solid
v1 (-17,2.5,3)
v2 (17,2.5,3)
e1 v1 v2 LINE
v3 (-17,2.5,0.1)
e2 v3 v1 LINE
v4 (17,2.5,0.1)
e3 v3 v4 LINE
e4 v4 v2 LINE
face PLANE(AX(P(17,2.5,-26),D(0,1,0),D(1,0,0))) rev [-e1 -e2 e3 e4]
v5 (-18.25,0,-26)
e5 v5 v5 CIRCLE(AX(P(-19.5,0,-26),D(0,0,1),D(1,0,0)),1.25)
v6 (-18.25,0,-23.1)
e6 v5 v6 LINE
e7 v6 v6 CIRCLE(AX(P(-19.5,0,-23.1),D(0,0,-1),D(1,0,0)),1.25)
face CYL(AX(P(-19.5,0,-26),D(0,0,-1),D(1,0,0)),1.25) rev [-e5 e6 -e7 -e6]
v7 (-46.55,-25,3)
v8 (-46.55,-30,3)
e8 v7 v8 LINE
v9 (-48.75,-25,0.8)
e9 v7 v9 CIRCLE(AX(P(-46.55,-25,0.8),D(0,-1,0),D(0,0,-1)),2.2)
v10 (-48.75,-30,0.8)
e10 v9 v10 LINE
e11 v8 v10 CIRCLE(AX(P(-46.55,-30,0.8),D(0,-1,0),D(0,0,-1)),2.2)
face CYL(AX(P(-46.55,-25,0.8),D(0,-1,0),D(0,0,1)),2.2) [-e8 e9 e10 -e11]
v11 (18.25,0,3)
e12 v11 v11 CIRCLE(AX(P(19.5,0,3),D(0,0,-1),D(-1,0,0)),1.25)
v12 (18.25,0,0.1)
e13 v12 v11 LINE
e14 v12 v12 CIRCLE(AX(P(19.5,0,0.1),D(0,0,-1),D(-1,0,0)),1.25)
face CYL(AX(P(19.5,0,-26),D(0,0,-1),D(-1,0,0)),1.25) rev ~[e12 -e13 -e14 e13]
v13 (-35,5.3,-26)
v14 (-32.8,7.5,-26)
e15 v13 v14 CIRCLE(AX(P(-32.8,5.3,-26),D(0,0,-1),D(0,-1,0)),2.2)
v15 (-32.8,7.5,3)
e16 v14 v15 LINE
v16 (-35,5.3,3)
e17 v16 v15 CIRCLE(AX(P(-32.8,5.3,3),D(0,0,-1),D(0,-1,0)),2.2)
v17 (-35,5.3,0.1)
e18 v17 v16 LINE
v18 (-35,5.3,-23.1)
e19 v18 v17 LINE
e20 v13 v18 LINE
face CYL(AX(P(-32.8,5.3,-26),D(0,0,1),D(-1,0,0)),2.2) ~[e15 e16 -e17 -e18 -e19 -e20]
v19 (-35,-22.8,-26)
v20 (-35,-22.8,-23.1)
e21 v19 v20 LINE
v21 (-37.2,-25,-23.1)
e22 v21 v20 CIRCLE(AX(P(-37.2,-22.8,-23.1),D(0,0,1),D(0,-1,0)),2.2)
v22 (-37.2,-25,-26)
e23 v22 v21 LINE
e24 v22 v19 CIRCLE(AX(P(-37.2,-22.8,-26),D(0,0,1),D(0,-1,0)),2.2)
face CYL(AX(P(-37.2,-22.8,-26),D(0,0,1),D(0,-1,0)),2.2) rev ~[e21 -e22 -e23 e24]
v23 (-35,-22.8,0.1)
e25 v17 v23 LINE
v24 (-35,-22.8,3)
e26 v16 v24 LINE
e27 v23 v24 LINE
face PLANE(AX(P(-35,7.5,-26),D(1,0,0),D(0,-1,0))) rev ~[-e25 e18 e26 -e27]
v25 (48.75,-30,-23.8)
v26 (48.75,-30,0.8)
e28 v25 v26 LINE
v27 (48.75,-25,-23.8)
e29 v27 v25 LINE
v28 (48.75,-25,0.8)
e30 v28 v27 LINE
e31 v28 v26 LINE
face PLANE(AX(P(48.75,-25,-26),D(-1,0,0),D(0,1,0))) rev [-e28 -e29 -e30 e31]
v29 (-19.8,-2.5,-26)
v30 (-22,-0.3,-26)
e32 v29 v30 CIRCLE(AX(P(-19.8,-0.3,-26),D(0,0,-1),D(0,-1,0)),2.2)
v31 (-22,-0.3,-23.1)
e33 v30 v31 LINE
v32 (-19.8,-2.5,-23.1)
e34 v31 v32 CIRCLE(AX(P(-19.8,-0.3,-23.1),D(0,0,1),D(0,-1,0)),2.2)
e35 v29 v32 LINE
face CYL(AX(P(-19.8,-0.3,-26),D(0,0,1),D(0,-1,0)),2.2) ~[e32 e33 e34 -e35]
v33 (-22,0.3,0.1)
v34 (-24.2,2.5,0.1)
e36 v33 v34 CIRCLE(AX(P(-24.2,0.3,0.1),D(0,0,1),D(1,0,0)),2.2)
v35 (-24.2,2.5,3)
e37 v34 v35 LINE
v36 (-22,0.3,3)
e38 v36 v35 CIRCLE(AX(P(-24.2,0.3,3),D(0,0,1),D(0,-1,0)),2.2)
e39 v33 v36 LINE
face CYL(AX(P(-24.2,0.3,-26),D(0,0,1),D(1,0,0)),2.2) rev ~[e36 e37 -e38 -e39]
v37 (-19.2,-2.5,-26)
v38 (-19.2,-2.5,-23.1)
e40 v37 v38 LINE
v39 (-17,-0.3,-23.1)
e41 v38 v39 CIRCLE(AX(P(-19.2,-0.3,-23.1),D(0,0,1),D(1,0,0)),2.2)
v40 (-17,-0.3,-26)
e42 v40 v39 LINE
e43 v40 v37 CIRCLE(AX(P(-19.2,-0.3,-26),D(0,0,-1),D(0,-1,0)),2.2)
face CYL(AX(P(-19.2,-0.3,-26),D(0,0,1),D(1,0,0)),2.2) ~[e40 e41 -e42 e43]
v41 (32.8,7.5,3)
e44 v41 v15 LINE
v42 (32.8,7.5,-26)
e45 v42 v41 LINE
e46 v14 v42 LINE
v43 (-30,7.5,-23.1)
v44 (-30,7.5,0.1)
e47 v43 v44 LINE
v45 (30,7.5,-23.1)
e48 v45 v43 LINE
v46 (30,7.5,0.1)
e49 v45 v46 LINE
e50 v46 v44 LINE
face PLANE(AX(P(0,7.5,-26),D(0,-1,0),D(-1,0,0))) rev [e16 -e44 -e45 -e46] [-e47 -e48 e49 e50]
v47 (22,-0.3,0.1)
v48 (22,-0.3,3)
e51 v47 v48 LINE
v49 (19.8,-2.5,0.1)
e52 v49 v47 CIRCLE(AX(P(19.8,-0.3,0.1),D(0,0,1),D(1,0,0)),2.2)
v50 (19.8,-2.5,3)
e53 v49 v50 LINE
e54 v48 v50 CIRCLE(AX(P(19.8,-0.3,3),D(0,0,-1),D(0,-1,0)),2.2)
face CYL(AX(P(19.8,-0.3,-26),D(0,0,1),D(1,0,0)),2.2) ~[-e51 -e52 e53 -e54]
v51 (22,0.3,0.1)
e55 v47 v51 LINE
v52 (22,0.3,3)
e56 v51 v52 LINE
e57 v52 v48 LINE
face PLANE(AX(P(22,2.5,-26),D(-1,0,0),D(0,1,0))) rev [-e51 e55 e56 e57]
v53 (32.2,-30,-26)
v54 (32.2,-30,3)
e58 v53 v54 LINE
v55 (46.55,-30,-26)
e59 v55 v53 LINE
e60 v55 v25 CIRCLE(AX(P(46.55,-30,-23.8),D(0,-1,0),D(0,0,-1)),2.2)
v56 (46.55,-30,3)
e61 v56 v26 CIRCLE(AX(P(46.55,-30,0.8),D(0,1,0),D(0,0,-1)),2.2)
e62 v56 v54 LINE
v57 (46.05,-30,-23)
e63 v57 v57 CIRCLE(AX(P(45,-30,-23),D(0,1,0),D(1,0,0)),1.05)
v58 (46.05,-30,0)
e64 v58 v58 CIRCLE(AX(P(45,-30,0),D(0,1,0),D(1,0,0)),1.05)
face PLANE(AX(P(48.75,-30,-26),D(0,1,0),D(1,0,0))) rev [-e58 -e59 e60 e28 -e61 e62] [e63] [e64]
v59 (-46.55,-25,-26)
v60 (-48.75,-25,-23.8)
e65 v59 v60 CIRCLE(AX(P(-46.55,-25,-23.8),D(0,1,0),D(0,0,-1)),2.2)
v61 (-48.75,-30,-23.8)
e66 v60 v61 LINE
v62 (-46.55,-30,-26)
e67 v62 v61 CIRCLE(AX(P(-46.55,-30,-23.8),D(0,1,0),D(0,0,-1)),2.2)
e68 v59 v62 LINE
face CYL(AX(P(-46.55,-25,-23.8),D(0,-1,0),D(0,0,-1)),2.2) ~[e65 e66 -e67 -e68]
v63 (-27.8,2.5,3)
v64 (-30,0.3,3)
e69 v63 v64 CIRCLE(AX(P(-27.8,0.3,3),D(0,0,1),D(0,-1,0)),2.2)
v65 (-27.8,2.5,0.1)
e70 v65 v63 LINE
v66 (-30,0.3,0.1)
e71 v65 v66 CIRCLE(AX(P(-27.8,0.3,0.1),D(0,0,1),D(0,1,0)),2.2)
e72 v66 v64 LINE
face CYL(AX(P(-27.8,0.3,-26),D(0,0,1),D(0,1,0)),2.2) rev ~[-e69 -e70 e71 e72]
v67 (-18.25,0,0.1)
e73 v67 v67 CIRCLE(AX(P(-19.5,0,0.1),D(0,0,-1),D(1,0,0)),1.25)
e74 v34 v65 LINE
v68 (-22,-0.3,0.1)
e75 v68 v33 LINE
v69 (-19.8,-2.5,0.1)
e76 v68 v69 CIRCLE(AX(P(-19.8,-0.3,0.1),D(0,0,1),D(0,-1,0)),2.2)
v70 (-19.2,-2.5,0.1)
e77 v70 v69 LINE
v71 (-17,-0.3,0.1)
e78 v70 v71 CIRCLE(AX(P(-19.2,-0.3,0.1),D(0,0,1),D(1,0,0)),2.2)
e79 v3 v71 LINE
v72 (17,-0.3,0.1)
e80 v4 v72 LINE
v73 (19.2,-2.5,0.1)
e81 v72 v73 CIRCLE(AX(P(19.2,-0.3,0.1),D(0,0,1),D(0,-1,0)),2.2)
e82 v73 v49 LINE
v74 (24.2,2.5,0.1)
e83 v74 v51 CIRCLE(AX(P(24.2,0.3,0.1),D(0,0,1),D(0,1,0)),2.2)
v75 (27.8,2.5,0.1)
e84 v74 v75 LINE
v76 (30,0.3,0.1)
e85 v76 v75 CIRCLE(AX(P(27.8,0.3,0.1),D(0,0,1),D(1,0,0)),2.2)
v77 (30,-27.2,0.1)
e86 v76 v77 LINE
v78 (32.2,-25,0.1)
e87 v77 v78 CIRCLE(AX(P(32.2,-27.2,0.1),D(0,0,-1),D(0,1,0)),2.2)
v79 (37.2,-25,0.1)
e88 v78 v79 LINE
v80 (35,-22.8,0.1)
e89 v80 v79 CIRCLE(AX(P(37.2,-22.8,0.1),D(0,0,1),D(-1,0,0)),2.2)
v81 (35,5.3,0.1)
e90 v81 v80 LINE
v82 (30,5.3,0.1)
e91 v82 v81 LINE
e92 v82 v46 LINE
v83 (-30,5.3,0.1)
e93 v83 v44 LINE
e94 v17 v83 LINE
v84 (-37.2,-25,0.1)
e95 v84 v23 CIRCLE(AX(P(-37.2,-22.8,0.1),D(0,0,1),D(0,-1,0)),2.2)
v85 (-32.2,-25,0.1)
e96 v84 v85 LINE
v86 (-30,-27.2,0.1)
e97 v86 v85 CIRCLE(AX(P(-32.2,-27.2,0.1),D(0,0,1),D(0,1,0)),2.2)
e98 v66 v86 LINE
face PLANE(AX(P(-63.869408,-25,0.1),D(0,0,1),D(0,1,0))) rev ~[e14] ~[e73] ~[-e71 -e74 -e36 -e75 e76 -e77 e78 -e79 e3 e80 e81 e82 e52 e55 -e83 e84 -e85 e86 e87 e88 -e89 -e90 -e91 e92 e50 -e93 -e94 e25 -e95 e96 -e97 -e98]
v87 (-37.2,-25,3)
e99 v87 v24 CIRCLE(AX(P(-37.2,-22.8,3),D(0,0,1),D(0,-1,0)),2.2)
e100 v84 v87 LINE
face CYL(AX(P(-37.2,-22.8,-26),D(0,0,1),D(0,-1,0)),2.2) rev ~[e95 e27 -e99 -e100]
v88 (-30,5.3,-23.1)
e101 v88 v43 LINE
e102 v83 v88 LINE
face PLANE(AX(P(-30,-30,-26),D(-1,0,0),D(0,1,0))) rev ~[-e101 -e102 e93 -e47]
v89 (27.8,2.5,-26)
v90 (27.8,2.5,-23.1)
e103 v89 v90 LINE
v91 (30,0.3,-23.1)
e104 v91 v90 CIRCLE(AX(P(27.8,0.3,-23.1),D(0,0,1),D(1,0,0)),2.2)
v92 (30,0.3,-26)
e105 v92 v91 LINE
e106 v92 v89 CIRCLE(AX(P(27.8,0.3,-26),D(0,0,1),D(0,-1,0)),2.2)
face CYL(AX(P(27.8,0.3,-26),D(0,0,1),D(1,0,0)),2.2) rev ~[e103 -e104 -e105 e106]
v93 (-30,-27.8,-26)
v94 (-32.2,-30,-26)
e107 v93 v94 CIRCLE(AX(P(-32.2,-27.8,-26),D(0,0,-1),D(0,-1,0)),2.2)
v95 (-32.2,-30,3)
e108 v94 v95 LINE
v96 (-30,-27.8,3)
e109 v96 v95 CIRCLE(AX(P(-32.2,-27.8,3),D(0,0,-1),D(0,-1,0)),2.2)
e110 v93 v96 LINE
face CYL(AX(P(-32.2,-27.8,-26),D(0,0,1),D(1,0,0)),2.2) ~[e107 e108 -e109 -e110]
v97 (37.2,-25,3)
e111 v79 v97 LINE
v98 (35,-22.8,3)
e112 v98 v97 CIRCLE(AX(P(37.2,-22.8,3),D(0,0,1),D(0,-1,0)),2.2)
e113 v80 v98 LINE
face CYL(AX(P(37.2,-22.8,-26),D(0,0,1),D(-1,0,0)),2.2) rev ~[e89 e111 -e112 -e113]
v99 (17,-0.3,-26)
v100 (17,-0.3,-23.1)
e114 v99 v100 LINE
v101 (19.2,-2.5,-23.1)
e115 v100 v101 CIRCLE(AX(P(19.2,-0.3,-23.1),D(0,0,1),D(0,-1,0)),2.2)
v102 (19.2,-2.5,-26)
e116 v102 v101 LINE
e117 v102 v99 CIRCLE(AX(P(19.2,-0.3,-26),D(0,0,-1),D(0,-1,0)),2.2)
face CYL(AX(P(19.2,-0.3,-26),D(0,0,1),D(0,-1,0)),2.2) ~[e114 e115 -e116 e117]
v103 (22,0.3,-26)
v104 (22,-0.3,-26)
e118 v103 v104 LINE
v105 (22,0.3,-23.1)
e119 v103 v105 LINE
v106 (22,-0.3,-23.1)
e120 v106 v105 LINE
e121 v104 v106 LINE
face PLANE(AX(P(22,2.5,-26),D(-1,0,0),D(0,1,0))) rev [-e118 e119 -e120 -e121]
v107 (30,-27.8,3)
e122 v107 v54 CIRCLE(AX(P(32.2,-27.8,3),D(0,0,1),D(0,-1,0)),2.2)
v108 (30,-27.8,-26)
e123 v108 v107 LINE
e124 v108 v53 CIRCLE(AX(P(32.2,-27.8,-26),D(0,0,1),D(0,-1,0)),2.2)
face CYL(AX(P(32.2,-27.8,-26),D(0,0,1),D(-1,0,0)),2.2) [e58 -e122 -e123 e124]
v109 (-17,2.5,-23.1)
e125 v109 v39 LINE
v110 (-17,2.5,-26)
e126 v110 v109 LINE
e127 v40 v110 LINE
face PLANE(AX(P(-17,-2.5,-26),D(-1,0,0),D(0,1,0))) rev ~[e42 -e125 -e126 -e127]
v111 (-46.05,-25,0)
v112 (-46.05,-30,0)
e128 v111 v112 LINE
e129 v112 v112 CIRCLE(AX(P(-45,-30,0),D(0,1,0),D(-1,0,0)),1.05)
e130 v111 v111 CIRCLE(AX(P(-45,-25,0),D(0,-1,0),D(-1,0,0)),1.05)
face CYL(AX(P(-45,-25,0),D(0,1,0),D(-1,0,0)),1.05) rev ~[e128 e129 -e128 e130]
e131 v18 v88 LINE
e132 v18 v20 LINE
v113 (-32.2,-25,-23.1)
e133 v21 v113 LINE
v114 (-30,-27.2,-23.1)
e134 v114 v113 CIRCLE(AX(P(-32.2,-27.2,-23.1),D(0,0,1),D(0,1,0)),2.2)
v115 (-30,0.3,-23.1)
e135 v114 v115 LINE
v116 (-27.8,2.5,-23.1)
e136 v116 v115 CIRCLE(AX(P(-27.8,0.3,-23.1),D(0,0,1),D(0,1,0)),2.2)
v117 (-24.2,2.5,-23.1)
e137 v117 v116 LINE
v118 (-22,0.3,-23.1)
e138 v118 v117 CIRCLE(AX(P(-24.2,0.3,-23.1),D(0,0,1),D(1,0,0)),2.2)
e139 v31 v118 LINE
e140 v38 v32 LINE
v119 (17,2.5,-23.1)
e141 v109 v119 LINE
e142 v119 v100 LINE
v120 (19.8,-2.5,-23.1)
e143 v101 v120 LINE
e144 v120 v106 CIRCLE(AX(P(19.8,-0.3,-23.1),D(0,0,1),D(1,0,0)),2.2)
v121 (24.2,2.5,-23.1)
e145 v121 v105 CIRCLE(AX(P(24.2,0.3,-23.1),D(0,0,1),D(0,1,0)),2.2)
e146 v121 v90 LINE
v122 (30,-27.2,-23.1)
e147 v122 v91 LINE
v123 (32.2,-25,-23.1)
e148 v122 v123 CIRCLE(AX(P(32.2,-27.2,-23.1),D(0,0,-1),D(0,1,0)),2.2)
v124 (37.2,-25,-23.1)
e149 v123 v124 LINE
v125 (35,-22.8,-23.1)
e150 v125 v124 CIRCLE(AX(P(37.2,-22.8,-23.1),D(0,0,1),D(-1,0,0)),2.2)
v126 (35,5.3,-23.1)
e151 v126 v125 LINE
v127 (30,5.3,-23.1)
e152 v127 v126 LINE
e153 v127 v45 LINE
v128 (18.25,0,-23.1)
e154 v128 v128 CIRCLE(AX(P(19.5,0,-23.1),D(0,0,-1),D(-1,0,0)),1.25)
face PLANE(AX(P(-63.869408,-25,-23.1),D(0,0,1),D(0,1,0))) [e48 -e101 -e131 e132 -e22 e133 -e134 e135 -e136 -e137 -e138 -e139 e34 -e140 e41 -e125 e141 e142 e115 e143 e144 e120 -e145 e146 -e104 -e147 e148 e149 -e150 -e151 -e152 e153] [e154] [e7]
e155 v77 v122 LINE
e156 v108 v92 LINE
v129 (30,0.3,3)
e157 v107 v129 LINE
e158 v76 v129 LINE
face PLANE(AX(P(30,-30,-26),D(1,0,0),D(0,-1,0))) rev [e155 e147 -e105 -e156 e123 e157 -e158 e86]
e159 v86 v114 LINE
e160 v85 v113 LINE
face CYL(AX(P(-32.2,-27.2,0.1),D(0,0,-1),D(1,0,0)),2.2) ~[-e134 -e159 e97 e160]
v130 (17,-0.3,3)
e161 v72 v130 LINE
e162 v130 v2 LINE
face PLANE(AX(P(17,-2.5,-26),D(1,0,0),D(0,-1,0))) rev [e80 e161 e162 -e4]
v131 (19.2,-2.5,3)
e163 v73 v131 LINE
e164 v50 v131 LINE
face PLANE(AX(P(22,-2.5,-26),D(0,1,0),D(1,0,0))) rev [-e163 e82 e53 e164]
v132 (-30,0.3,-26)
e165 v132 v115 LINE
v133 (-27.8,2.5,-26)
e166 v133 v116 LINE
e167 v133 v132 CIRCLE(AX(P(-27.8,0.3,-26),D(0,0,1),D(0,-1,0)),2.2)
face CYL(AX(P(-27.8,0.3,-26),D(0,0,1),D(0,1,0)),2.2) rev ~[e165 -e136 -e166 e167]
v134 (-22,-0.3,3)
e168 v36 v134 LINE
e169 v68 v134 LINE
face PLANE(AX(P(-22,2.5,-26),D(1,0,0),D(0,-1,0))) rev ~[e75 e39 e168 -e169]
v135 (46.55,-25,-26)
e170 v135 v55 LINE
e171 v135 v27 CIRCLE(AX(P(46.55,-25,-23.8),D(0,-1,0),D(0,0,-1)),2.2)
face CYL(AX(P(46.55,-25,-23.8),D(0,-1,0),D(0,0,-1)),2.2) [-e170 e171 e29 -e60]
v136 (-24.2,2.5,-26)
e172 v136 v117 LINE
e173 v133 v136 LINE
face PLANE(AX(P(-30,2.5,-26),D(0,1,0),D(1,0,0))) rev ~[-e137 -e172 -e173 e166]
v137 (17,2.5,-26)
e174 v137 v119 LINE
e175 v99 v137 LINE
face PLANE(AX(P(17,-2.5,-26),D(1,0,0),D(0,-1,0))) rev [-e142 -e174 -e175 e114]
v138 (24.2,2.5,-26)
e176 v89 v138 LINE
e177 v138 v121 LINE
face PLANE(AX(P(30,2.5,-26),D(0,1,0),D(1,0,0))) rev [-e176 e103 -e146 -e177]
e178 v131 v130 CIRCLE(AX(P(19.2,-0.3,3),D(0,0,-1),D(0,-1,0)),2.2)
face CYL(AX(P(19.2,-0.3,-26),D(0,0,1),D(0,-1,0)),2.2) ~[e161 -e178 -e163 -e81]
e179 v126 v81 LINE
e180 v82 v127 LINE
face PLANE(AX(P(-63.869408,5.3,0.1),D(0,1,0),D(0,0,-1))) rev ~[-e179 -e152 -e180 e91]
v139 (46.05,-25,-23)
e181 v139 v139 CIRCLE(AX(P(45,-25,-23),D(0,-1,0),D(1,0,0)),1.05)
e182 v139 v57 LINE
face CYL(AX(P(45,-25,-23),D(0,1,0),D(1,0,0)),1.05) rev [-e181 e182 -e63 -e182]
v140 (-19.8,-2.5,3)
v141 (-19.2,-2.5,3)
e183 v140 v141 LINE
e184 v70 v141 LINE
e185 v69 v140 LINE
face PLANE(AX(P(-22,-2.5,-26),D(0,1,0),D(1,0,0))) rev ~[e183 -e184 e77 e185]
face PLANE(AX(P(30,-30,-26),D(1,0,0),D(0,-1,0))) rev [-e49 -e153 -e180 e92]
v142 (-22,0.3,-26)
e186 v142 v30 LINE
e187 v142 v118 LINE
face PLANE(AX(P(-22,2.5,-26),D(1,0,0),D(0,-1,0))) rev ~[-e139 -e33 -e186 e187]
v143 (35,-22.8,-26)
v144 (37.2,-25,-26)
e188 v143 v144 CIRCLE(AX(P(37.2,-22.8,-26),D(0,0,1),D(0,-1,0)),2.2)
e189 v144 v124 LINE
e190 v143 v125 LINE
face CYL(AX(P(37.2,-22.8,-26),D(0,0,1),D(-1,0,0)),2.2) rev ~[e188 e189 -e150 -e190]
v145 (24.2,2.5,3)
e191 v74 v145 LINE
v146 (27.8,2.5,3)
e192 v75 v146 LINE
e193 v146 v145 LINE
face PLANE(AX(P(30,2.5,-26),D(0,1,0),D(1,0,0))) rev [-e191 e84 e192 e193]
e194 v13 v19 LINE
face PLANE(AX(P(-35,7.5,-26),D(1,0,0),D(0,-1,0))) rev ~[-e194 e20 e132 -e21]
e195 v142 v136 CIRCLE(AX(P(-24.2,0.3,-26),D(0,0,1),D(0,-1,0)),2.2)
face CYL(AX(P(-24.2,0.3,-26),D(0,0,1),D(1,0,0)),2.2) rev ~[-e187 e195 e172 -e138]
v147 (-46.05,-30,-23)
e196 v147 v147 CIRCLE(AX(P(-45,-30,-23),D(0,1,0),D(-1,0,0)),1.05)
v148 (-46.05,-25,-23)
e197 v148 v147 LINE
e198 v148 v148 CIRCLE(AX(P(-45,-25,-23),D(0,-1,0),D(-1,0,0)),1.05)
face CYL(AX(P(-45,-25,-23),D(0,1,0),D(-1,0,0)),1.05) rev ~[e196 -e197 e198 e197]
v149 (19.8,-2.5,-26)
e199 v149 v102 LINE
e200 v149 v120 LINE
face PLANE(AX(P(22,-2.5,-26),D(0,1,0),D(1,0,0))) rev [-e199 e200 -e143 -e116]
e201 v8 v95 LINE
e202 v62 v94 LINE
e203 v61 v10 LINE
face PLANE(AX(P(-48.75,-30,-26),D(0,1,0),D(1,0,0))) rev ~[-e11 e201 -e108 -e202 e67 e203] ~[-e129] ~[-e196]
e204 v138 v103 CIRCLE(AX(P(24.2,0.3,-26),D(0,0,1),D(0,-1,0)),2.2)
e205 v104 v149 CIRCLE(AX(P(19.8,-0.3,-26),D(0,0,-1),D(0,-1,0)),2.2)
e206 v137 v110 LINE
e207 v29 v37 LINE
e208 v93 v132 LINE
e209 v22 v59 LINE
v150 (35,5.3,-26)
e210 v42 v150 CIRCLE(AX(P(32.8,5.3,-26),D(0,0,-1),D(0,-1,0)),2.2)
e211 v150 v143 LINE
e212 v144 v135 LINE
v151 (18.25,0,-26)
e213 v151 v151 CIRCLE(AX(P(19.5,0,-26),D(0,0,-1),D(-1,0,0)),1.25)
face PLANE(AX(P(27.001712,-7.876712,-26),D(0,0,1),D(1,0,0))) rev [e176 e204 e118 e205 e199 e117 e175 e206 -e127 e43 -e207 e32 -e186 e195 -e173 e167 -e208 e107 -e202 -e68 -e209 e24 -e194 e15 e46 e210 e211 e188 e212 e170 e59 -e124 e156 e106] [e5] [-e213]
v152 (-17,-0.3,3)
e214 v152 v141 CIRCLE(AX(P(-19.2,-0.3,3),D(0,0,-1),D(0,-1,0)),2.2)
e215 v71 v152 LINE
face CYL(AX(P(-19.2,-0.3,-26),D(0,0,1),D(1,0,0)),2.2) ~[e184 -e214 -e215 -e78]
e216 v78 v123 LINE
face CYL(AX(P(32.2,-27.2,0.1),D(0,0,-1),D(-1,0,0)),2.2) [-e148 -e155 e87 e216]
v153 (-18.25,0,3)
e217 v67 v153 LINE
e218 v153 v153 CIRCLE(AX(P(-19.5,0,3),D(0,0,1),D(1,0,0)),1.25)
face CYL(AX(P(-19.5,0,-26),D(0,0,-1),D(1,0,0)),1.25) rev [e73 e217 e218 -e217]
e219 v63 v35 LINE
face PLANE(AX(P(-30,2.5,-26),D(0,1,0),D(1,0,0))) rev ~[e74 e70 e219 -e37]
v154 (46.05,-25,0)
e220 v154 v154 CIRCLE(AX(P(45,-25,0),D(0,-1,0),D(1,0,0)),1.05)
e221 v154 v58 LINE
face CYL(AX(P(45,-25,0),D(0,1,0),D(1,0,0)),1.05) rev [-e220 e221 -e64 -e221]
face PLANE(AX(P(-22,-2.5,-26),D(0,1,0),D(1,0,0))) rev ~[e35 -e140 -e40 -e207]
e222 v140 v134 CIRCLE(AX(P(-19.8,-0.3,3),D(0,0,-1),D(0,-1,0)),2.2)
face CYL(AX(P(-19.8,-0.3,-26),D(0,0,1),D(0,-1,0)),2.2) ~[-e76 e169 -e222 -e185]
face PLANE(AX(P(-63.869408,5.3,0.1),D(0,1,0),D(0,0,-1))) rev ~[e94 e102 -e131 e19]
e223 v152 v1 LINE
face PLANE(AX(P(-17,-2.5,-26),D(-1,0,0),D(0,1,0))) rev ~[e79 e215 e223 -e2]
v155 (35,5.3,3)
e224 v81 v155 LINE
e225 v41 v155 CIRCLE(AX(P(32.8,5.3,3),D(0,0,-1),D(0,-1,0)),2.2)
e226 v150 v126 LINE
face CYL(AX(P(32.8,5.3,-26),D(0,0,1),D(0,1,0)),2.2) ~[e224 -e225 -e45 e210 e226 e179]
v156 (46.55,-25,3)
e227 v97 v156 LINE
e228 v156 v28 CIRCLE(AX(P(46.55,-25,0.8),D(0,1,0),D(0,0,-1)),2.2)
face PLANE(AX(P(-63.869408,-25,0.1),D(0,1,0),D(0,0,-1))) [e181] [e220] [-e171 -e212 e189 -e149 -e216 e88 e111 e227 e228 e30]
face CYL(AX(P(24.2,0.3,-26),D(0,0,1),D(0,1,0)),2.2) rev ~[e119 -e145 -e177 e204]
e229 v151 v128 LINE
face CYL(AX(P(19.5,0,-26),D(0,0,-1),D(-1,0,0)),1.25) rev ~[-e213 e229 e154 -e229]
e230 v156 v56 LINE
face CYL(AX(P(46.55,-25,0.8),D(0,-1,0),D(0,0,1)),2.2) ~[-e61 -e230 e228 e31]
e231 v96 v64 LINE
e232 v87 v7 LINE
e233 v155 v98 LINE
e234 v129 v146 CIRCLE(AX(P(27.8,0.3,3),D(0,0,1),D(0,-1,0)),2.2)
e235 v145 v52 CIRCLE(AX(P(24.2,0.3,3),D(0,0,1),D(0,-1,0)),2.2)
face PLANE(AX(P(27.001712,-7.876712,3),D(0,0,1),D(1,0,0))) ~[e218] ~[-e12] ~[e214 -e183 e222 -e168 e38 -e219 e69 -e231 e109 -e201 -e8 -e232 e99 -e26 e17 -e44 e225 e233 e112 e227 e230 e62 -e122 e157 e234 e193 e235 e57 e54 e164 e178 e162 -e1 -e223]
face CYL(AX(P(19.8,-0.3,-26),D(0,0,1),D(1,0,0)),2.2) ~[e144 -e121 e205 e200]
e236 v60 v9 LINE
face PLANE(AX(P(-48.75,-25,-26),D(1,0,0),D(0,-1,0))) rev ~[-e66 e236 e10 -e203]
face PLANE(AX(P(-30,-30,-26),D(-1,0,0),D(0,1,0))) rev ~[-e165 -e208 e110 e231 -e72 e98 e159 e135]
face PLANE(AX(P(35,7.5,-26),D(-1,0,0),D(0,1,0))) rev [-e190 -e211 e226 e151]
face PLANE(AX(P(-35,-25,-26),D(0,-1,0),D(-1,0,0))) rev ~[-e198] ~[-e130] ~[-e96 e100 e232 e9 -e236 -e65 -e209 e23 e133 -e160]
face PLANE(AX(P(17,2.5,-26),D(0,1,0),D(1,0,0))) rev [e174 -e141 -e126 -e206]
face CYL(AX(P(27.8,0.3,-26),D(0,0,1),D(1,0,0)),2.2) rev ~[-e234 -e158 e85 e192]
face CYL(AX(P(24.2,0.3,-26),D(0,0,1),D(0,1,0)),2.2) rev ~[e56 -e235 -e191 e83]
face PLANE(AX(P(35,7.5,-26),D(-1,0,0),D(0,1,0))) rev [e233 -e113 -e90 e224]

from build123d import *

# Parameters (mm, degrees)
BOSS_EXTRUDE1_START     = -26
SKETCH1_R               = 1.25
BOSS_EXTRUDE1_DEPTH     = 29
SKETCH2_R               = 1.05
CUT_EXTRUDE1_DEPTH      = 65.100019501
FILLET1_R               = 2.2
CUT_EXTRUDE2_DEPTH      = 63.8694083
CUT_EXTRUDE2_DEPTH_BACK = 63.8694083
SKETCH3_W               = 60
SKETCH3_H               = 23.2
CUT_EXTRUDE3_DEPTH      = 63.8694083
CUT_EXTRUDE3_DEPTH_BACK = 63.8694083
SKETCH4_W               = 23.2
SKETCH4_H               = 30.3
FILLET2_R               = 2.2


with BuildPart() as part:
    # Sketch1 → Boss-Extrude1 (new body)
    with BuildSketch(Plane.XY.offset(BOSS_EXTRUDE1_START)):
        Polygon((-30, -30), (-30, 2.5), (-22, 2.5), (-22, -2.5), (-17, -2.5), (-17, 2.5), (0, 2.5), (0, 7.5), (-35, 7.5), (-35, -25), (-48.75, -25), (-48.75, -30), align=None)
        with Locations((-19.5, 0)):
            Circle(SKETCH1_R, mode=Mode.SUBTRACT)
    boss_extrude1 = extrude(amount=BOSS_EXTRUDE1_DEPTH)

    # Sketch2 → Cut-Extrude1 (cut, through all)
    with BuildSketch(Plane(origin=(0, -25, 0), x_dir=(1, 0, 0), z_dir=(0, 1, 0))):
        with Locations(Location((-45, 23, 0), (0, 0, 180))):
            Circle(SKETCH2_R)
        with Locations(Location((-45, 0, 0), (0, 0, 180))):
            Circle(SKETCH2_R)
    cut_extrude1 = extrude(amount=-CUT_EXTRUDE1_DEPTH, mode=Mode.SUBTRACT)

    # Mirror1: Boss-Extrude1, Cut-Extrude1 across plane
    add(boss_extrude1.mirror(Plane(origin=(0, 0, 0), x_dir=(0, 0, 1), z_dir=(1, 0, 0))))
    add(cut_extrude1.mirror(Plane(origin=(0, 0, 0), x_dir=(0, 0, 1), z_dir=(1, 0, 0))), mode=Mode.SUBTRACT)

    # Fillet1
    fillet1_edges = [part.edges().sort_by_distance(p)[0] for p in [
        (-17, -2.5, -11.5),
        (-22, -2.5, -11.5),
        (-22, 2.5, -11.5),
        (-30, 2.5, -11.5),
        (-30, -30, -11.5),
        (-35, -25, -11.5),
        (-35, 7.5, -11.5),
        (-48.75, -27.5, 3),
        (-48.75, -27.5, -26),
        (17, -2.5, -11.5),
        (22, -2.5, -11.5),
        (22, 2.5, -11.5),
        (30, 2.5, -11.5),
        (30, -30, -11.5),
        (48.75, -27.5, -26),
        (48.75, -27.5, 3),
        (35, -25, -11.5),
        (35, 7.5, -11.5),
    ]]
    fillet(fillet1_edges, radius=FILLET1_R)

    # Sketch3 → Cut-Extrude2 (cut, two sides: drawn at the far end of the back side and taken through both)
    with BuildSketch(Plane(origin=(0, 0, 0), x_dir=(1, 0, 0), z_dir=(0, 1, 0)).offset(-CUT_EXTRUDE2_DEPTH_BACK)):
        with Locations((0, 11.5)):
            Rectangle(SKETCH3_W, SKETCH3_H)
    extrude(amount=CUT_EXTRUDE2_DEPTH + CUT_EXTRUDE2_DEPTH_BACK, mode=Mode.SUBTRACT)

    # Sketch4 → Cut-Extrude3 (cut, two sides: drawn at the far end of the back side and taken through both)
    with BuildSketch(Plane(origin=(0, 0, 0), x_dir=(0, 0, -1), z_dir=(1, 0, 0)).offset(-CUT_EXTRUDE3_DEPTH_BACK)):
        with Locations((11.5, -9.85)):
            Rectangle(SKETCH4_W, SKETCH4_H)
    extrude(amount=CUT_EXTRUDE3_DEPTH + CUT_EXTRUDE3_DEPTH_BACK, mode=Mode.SUBTRACT)

    # Fillet2
    fillet2_edges = [part.edges().sort_by_distance(p)[0] for p in [
        (-30, -25, -11.5),
        (30, -25, -11.5),
    ]]
    fillet(fillet2_edges, radius=FILLET2_R)


solid = part.part
